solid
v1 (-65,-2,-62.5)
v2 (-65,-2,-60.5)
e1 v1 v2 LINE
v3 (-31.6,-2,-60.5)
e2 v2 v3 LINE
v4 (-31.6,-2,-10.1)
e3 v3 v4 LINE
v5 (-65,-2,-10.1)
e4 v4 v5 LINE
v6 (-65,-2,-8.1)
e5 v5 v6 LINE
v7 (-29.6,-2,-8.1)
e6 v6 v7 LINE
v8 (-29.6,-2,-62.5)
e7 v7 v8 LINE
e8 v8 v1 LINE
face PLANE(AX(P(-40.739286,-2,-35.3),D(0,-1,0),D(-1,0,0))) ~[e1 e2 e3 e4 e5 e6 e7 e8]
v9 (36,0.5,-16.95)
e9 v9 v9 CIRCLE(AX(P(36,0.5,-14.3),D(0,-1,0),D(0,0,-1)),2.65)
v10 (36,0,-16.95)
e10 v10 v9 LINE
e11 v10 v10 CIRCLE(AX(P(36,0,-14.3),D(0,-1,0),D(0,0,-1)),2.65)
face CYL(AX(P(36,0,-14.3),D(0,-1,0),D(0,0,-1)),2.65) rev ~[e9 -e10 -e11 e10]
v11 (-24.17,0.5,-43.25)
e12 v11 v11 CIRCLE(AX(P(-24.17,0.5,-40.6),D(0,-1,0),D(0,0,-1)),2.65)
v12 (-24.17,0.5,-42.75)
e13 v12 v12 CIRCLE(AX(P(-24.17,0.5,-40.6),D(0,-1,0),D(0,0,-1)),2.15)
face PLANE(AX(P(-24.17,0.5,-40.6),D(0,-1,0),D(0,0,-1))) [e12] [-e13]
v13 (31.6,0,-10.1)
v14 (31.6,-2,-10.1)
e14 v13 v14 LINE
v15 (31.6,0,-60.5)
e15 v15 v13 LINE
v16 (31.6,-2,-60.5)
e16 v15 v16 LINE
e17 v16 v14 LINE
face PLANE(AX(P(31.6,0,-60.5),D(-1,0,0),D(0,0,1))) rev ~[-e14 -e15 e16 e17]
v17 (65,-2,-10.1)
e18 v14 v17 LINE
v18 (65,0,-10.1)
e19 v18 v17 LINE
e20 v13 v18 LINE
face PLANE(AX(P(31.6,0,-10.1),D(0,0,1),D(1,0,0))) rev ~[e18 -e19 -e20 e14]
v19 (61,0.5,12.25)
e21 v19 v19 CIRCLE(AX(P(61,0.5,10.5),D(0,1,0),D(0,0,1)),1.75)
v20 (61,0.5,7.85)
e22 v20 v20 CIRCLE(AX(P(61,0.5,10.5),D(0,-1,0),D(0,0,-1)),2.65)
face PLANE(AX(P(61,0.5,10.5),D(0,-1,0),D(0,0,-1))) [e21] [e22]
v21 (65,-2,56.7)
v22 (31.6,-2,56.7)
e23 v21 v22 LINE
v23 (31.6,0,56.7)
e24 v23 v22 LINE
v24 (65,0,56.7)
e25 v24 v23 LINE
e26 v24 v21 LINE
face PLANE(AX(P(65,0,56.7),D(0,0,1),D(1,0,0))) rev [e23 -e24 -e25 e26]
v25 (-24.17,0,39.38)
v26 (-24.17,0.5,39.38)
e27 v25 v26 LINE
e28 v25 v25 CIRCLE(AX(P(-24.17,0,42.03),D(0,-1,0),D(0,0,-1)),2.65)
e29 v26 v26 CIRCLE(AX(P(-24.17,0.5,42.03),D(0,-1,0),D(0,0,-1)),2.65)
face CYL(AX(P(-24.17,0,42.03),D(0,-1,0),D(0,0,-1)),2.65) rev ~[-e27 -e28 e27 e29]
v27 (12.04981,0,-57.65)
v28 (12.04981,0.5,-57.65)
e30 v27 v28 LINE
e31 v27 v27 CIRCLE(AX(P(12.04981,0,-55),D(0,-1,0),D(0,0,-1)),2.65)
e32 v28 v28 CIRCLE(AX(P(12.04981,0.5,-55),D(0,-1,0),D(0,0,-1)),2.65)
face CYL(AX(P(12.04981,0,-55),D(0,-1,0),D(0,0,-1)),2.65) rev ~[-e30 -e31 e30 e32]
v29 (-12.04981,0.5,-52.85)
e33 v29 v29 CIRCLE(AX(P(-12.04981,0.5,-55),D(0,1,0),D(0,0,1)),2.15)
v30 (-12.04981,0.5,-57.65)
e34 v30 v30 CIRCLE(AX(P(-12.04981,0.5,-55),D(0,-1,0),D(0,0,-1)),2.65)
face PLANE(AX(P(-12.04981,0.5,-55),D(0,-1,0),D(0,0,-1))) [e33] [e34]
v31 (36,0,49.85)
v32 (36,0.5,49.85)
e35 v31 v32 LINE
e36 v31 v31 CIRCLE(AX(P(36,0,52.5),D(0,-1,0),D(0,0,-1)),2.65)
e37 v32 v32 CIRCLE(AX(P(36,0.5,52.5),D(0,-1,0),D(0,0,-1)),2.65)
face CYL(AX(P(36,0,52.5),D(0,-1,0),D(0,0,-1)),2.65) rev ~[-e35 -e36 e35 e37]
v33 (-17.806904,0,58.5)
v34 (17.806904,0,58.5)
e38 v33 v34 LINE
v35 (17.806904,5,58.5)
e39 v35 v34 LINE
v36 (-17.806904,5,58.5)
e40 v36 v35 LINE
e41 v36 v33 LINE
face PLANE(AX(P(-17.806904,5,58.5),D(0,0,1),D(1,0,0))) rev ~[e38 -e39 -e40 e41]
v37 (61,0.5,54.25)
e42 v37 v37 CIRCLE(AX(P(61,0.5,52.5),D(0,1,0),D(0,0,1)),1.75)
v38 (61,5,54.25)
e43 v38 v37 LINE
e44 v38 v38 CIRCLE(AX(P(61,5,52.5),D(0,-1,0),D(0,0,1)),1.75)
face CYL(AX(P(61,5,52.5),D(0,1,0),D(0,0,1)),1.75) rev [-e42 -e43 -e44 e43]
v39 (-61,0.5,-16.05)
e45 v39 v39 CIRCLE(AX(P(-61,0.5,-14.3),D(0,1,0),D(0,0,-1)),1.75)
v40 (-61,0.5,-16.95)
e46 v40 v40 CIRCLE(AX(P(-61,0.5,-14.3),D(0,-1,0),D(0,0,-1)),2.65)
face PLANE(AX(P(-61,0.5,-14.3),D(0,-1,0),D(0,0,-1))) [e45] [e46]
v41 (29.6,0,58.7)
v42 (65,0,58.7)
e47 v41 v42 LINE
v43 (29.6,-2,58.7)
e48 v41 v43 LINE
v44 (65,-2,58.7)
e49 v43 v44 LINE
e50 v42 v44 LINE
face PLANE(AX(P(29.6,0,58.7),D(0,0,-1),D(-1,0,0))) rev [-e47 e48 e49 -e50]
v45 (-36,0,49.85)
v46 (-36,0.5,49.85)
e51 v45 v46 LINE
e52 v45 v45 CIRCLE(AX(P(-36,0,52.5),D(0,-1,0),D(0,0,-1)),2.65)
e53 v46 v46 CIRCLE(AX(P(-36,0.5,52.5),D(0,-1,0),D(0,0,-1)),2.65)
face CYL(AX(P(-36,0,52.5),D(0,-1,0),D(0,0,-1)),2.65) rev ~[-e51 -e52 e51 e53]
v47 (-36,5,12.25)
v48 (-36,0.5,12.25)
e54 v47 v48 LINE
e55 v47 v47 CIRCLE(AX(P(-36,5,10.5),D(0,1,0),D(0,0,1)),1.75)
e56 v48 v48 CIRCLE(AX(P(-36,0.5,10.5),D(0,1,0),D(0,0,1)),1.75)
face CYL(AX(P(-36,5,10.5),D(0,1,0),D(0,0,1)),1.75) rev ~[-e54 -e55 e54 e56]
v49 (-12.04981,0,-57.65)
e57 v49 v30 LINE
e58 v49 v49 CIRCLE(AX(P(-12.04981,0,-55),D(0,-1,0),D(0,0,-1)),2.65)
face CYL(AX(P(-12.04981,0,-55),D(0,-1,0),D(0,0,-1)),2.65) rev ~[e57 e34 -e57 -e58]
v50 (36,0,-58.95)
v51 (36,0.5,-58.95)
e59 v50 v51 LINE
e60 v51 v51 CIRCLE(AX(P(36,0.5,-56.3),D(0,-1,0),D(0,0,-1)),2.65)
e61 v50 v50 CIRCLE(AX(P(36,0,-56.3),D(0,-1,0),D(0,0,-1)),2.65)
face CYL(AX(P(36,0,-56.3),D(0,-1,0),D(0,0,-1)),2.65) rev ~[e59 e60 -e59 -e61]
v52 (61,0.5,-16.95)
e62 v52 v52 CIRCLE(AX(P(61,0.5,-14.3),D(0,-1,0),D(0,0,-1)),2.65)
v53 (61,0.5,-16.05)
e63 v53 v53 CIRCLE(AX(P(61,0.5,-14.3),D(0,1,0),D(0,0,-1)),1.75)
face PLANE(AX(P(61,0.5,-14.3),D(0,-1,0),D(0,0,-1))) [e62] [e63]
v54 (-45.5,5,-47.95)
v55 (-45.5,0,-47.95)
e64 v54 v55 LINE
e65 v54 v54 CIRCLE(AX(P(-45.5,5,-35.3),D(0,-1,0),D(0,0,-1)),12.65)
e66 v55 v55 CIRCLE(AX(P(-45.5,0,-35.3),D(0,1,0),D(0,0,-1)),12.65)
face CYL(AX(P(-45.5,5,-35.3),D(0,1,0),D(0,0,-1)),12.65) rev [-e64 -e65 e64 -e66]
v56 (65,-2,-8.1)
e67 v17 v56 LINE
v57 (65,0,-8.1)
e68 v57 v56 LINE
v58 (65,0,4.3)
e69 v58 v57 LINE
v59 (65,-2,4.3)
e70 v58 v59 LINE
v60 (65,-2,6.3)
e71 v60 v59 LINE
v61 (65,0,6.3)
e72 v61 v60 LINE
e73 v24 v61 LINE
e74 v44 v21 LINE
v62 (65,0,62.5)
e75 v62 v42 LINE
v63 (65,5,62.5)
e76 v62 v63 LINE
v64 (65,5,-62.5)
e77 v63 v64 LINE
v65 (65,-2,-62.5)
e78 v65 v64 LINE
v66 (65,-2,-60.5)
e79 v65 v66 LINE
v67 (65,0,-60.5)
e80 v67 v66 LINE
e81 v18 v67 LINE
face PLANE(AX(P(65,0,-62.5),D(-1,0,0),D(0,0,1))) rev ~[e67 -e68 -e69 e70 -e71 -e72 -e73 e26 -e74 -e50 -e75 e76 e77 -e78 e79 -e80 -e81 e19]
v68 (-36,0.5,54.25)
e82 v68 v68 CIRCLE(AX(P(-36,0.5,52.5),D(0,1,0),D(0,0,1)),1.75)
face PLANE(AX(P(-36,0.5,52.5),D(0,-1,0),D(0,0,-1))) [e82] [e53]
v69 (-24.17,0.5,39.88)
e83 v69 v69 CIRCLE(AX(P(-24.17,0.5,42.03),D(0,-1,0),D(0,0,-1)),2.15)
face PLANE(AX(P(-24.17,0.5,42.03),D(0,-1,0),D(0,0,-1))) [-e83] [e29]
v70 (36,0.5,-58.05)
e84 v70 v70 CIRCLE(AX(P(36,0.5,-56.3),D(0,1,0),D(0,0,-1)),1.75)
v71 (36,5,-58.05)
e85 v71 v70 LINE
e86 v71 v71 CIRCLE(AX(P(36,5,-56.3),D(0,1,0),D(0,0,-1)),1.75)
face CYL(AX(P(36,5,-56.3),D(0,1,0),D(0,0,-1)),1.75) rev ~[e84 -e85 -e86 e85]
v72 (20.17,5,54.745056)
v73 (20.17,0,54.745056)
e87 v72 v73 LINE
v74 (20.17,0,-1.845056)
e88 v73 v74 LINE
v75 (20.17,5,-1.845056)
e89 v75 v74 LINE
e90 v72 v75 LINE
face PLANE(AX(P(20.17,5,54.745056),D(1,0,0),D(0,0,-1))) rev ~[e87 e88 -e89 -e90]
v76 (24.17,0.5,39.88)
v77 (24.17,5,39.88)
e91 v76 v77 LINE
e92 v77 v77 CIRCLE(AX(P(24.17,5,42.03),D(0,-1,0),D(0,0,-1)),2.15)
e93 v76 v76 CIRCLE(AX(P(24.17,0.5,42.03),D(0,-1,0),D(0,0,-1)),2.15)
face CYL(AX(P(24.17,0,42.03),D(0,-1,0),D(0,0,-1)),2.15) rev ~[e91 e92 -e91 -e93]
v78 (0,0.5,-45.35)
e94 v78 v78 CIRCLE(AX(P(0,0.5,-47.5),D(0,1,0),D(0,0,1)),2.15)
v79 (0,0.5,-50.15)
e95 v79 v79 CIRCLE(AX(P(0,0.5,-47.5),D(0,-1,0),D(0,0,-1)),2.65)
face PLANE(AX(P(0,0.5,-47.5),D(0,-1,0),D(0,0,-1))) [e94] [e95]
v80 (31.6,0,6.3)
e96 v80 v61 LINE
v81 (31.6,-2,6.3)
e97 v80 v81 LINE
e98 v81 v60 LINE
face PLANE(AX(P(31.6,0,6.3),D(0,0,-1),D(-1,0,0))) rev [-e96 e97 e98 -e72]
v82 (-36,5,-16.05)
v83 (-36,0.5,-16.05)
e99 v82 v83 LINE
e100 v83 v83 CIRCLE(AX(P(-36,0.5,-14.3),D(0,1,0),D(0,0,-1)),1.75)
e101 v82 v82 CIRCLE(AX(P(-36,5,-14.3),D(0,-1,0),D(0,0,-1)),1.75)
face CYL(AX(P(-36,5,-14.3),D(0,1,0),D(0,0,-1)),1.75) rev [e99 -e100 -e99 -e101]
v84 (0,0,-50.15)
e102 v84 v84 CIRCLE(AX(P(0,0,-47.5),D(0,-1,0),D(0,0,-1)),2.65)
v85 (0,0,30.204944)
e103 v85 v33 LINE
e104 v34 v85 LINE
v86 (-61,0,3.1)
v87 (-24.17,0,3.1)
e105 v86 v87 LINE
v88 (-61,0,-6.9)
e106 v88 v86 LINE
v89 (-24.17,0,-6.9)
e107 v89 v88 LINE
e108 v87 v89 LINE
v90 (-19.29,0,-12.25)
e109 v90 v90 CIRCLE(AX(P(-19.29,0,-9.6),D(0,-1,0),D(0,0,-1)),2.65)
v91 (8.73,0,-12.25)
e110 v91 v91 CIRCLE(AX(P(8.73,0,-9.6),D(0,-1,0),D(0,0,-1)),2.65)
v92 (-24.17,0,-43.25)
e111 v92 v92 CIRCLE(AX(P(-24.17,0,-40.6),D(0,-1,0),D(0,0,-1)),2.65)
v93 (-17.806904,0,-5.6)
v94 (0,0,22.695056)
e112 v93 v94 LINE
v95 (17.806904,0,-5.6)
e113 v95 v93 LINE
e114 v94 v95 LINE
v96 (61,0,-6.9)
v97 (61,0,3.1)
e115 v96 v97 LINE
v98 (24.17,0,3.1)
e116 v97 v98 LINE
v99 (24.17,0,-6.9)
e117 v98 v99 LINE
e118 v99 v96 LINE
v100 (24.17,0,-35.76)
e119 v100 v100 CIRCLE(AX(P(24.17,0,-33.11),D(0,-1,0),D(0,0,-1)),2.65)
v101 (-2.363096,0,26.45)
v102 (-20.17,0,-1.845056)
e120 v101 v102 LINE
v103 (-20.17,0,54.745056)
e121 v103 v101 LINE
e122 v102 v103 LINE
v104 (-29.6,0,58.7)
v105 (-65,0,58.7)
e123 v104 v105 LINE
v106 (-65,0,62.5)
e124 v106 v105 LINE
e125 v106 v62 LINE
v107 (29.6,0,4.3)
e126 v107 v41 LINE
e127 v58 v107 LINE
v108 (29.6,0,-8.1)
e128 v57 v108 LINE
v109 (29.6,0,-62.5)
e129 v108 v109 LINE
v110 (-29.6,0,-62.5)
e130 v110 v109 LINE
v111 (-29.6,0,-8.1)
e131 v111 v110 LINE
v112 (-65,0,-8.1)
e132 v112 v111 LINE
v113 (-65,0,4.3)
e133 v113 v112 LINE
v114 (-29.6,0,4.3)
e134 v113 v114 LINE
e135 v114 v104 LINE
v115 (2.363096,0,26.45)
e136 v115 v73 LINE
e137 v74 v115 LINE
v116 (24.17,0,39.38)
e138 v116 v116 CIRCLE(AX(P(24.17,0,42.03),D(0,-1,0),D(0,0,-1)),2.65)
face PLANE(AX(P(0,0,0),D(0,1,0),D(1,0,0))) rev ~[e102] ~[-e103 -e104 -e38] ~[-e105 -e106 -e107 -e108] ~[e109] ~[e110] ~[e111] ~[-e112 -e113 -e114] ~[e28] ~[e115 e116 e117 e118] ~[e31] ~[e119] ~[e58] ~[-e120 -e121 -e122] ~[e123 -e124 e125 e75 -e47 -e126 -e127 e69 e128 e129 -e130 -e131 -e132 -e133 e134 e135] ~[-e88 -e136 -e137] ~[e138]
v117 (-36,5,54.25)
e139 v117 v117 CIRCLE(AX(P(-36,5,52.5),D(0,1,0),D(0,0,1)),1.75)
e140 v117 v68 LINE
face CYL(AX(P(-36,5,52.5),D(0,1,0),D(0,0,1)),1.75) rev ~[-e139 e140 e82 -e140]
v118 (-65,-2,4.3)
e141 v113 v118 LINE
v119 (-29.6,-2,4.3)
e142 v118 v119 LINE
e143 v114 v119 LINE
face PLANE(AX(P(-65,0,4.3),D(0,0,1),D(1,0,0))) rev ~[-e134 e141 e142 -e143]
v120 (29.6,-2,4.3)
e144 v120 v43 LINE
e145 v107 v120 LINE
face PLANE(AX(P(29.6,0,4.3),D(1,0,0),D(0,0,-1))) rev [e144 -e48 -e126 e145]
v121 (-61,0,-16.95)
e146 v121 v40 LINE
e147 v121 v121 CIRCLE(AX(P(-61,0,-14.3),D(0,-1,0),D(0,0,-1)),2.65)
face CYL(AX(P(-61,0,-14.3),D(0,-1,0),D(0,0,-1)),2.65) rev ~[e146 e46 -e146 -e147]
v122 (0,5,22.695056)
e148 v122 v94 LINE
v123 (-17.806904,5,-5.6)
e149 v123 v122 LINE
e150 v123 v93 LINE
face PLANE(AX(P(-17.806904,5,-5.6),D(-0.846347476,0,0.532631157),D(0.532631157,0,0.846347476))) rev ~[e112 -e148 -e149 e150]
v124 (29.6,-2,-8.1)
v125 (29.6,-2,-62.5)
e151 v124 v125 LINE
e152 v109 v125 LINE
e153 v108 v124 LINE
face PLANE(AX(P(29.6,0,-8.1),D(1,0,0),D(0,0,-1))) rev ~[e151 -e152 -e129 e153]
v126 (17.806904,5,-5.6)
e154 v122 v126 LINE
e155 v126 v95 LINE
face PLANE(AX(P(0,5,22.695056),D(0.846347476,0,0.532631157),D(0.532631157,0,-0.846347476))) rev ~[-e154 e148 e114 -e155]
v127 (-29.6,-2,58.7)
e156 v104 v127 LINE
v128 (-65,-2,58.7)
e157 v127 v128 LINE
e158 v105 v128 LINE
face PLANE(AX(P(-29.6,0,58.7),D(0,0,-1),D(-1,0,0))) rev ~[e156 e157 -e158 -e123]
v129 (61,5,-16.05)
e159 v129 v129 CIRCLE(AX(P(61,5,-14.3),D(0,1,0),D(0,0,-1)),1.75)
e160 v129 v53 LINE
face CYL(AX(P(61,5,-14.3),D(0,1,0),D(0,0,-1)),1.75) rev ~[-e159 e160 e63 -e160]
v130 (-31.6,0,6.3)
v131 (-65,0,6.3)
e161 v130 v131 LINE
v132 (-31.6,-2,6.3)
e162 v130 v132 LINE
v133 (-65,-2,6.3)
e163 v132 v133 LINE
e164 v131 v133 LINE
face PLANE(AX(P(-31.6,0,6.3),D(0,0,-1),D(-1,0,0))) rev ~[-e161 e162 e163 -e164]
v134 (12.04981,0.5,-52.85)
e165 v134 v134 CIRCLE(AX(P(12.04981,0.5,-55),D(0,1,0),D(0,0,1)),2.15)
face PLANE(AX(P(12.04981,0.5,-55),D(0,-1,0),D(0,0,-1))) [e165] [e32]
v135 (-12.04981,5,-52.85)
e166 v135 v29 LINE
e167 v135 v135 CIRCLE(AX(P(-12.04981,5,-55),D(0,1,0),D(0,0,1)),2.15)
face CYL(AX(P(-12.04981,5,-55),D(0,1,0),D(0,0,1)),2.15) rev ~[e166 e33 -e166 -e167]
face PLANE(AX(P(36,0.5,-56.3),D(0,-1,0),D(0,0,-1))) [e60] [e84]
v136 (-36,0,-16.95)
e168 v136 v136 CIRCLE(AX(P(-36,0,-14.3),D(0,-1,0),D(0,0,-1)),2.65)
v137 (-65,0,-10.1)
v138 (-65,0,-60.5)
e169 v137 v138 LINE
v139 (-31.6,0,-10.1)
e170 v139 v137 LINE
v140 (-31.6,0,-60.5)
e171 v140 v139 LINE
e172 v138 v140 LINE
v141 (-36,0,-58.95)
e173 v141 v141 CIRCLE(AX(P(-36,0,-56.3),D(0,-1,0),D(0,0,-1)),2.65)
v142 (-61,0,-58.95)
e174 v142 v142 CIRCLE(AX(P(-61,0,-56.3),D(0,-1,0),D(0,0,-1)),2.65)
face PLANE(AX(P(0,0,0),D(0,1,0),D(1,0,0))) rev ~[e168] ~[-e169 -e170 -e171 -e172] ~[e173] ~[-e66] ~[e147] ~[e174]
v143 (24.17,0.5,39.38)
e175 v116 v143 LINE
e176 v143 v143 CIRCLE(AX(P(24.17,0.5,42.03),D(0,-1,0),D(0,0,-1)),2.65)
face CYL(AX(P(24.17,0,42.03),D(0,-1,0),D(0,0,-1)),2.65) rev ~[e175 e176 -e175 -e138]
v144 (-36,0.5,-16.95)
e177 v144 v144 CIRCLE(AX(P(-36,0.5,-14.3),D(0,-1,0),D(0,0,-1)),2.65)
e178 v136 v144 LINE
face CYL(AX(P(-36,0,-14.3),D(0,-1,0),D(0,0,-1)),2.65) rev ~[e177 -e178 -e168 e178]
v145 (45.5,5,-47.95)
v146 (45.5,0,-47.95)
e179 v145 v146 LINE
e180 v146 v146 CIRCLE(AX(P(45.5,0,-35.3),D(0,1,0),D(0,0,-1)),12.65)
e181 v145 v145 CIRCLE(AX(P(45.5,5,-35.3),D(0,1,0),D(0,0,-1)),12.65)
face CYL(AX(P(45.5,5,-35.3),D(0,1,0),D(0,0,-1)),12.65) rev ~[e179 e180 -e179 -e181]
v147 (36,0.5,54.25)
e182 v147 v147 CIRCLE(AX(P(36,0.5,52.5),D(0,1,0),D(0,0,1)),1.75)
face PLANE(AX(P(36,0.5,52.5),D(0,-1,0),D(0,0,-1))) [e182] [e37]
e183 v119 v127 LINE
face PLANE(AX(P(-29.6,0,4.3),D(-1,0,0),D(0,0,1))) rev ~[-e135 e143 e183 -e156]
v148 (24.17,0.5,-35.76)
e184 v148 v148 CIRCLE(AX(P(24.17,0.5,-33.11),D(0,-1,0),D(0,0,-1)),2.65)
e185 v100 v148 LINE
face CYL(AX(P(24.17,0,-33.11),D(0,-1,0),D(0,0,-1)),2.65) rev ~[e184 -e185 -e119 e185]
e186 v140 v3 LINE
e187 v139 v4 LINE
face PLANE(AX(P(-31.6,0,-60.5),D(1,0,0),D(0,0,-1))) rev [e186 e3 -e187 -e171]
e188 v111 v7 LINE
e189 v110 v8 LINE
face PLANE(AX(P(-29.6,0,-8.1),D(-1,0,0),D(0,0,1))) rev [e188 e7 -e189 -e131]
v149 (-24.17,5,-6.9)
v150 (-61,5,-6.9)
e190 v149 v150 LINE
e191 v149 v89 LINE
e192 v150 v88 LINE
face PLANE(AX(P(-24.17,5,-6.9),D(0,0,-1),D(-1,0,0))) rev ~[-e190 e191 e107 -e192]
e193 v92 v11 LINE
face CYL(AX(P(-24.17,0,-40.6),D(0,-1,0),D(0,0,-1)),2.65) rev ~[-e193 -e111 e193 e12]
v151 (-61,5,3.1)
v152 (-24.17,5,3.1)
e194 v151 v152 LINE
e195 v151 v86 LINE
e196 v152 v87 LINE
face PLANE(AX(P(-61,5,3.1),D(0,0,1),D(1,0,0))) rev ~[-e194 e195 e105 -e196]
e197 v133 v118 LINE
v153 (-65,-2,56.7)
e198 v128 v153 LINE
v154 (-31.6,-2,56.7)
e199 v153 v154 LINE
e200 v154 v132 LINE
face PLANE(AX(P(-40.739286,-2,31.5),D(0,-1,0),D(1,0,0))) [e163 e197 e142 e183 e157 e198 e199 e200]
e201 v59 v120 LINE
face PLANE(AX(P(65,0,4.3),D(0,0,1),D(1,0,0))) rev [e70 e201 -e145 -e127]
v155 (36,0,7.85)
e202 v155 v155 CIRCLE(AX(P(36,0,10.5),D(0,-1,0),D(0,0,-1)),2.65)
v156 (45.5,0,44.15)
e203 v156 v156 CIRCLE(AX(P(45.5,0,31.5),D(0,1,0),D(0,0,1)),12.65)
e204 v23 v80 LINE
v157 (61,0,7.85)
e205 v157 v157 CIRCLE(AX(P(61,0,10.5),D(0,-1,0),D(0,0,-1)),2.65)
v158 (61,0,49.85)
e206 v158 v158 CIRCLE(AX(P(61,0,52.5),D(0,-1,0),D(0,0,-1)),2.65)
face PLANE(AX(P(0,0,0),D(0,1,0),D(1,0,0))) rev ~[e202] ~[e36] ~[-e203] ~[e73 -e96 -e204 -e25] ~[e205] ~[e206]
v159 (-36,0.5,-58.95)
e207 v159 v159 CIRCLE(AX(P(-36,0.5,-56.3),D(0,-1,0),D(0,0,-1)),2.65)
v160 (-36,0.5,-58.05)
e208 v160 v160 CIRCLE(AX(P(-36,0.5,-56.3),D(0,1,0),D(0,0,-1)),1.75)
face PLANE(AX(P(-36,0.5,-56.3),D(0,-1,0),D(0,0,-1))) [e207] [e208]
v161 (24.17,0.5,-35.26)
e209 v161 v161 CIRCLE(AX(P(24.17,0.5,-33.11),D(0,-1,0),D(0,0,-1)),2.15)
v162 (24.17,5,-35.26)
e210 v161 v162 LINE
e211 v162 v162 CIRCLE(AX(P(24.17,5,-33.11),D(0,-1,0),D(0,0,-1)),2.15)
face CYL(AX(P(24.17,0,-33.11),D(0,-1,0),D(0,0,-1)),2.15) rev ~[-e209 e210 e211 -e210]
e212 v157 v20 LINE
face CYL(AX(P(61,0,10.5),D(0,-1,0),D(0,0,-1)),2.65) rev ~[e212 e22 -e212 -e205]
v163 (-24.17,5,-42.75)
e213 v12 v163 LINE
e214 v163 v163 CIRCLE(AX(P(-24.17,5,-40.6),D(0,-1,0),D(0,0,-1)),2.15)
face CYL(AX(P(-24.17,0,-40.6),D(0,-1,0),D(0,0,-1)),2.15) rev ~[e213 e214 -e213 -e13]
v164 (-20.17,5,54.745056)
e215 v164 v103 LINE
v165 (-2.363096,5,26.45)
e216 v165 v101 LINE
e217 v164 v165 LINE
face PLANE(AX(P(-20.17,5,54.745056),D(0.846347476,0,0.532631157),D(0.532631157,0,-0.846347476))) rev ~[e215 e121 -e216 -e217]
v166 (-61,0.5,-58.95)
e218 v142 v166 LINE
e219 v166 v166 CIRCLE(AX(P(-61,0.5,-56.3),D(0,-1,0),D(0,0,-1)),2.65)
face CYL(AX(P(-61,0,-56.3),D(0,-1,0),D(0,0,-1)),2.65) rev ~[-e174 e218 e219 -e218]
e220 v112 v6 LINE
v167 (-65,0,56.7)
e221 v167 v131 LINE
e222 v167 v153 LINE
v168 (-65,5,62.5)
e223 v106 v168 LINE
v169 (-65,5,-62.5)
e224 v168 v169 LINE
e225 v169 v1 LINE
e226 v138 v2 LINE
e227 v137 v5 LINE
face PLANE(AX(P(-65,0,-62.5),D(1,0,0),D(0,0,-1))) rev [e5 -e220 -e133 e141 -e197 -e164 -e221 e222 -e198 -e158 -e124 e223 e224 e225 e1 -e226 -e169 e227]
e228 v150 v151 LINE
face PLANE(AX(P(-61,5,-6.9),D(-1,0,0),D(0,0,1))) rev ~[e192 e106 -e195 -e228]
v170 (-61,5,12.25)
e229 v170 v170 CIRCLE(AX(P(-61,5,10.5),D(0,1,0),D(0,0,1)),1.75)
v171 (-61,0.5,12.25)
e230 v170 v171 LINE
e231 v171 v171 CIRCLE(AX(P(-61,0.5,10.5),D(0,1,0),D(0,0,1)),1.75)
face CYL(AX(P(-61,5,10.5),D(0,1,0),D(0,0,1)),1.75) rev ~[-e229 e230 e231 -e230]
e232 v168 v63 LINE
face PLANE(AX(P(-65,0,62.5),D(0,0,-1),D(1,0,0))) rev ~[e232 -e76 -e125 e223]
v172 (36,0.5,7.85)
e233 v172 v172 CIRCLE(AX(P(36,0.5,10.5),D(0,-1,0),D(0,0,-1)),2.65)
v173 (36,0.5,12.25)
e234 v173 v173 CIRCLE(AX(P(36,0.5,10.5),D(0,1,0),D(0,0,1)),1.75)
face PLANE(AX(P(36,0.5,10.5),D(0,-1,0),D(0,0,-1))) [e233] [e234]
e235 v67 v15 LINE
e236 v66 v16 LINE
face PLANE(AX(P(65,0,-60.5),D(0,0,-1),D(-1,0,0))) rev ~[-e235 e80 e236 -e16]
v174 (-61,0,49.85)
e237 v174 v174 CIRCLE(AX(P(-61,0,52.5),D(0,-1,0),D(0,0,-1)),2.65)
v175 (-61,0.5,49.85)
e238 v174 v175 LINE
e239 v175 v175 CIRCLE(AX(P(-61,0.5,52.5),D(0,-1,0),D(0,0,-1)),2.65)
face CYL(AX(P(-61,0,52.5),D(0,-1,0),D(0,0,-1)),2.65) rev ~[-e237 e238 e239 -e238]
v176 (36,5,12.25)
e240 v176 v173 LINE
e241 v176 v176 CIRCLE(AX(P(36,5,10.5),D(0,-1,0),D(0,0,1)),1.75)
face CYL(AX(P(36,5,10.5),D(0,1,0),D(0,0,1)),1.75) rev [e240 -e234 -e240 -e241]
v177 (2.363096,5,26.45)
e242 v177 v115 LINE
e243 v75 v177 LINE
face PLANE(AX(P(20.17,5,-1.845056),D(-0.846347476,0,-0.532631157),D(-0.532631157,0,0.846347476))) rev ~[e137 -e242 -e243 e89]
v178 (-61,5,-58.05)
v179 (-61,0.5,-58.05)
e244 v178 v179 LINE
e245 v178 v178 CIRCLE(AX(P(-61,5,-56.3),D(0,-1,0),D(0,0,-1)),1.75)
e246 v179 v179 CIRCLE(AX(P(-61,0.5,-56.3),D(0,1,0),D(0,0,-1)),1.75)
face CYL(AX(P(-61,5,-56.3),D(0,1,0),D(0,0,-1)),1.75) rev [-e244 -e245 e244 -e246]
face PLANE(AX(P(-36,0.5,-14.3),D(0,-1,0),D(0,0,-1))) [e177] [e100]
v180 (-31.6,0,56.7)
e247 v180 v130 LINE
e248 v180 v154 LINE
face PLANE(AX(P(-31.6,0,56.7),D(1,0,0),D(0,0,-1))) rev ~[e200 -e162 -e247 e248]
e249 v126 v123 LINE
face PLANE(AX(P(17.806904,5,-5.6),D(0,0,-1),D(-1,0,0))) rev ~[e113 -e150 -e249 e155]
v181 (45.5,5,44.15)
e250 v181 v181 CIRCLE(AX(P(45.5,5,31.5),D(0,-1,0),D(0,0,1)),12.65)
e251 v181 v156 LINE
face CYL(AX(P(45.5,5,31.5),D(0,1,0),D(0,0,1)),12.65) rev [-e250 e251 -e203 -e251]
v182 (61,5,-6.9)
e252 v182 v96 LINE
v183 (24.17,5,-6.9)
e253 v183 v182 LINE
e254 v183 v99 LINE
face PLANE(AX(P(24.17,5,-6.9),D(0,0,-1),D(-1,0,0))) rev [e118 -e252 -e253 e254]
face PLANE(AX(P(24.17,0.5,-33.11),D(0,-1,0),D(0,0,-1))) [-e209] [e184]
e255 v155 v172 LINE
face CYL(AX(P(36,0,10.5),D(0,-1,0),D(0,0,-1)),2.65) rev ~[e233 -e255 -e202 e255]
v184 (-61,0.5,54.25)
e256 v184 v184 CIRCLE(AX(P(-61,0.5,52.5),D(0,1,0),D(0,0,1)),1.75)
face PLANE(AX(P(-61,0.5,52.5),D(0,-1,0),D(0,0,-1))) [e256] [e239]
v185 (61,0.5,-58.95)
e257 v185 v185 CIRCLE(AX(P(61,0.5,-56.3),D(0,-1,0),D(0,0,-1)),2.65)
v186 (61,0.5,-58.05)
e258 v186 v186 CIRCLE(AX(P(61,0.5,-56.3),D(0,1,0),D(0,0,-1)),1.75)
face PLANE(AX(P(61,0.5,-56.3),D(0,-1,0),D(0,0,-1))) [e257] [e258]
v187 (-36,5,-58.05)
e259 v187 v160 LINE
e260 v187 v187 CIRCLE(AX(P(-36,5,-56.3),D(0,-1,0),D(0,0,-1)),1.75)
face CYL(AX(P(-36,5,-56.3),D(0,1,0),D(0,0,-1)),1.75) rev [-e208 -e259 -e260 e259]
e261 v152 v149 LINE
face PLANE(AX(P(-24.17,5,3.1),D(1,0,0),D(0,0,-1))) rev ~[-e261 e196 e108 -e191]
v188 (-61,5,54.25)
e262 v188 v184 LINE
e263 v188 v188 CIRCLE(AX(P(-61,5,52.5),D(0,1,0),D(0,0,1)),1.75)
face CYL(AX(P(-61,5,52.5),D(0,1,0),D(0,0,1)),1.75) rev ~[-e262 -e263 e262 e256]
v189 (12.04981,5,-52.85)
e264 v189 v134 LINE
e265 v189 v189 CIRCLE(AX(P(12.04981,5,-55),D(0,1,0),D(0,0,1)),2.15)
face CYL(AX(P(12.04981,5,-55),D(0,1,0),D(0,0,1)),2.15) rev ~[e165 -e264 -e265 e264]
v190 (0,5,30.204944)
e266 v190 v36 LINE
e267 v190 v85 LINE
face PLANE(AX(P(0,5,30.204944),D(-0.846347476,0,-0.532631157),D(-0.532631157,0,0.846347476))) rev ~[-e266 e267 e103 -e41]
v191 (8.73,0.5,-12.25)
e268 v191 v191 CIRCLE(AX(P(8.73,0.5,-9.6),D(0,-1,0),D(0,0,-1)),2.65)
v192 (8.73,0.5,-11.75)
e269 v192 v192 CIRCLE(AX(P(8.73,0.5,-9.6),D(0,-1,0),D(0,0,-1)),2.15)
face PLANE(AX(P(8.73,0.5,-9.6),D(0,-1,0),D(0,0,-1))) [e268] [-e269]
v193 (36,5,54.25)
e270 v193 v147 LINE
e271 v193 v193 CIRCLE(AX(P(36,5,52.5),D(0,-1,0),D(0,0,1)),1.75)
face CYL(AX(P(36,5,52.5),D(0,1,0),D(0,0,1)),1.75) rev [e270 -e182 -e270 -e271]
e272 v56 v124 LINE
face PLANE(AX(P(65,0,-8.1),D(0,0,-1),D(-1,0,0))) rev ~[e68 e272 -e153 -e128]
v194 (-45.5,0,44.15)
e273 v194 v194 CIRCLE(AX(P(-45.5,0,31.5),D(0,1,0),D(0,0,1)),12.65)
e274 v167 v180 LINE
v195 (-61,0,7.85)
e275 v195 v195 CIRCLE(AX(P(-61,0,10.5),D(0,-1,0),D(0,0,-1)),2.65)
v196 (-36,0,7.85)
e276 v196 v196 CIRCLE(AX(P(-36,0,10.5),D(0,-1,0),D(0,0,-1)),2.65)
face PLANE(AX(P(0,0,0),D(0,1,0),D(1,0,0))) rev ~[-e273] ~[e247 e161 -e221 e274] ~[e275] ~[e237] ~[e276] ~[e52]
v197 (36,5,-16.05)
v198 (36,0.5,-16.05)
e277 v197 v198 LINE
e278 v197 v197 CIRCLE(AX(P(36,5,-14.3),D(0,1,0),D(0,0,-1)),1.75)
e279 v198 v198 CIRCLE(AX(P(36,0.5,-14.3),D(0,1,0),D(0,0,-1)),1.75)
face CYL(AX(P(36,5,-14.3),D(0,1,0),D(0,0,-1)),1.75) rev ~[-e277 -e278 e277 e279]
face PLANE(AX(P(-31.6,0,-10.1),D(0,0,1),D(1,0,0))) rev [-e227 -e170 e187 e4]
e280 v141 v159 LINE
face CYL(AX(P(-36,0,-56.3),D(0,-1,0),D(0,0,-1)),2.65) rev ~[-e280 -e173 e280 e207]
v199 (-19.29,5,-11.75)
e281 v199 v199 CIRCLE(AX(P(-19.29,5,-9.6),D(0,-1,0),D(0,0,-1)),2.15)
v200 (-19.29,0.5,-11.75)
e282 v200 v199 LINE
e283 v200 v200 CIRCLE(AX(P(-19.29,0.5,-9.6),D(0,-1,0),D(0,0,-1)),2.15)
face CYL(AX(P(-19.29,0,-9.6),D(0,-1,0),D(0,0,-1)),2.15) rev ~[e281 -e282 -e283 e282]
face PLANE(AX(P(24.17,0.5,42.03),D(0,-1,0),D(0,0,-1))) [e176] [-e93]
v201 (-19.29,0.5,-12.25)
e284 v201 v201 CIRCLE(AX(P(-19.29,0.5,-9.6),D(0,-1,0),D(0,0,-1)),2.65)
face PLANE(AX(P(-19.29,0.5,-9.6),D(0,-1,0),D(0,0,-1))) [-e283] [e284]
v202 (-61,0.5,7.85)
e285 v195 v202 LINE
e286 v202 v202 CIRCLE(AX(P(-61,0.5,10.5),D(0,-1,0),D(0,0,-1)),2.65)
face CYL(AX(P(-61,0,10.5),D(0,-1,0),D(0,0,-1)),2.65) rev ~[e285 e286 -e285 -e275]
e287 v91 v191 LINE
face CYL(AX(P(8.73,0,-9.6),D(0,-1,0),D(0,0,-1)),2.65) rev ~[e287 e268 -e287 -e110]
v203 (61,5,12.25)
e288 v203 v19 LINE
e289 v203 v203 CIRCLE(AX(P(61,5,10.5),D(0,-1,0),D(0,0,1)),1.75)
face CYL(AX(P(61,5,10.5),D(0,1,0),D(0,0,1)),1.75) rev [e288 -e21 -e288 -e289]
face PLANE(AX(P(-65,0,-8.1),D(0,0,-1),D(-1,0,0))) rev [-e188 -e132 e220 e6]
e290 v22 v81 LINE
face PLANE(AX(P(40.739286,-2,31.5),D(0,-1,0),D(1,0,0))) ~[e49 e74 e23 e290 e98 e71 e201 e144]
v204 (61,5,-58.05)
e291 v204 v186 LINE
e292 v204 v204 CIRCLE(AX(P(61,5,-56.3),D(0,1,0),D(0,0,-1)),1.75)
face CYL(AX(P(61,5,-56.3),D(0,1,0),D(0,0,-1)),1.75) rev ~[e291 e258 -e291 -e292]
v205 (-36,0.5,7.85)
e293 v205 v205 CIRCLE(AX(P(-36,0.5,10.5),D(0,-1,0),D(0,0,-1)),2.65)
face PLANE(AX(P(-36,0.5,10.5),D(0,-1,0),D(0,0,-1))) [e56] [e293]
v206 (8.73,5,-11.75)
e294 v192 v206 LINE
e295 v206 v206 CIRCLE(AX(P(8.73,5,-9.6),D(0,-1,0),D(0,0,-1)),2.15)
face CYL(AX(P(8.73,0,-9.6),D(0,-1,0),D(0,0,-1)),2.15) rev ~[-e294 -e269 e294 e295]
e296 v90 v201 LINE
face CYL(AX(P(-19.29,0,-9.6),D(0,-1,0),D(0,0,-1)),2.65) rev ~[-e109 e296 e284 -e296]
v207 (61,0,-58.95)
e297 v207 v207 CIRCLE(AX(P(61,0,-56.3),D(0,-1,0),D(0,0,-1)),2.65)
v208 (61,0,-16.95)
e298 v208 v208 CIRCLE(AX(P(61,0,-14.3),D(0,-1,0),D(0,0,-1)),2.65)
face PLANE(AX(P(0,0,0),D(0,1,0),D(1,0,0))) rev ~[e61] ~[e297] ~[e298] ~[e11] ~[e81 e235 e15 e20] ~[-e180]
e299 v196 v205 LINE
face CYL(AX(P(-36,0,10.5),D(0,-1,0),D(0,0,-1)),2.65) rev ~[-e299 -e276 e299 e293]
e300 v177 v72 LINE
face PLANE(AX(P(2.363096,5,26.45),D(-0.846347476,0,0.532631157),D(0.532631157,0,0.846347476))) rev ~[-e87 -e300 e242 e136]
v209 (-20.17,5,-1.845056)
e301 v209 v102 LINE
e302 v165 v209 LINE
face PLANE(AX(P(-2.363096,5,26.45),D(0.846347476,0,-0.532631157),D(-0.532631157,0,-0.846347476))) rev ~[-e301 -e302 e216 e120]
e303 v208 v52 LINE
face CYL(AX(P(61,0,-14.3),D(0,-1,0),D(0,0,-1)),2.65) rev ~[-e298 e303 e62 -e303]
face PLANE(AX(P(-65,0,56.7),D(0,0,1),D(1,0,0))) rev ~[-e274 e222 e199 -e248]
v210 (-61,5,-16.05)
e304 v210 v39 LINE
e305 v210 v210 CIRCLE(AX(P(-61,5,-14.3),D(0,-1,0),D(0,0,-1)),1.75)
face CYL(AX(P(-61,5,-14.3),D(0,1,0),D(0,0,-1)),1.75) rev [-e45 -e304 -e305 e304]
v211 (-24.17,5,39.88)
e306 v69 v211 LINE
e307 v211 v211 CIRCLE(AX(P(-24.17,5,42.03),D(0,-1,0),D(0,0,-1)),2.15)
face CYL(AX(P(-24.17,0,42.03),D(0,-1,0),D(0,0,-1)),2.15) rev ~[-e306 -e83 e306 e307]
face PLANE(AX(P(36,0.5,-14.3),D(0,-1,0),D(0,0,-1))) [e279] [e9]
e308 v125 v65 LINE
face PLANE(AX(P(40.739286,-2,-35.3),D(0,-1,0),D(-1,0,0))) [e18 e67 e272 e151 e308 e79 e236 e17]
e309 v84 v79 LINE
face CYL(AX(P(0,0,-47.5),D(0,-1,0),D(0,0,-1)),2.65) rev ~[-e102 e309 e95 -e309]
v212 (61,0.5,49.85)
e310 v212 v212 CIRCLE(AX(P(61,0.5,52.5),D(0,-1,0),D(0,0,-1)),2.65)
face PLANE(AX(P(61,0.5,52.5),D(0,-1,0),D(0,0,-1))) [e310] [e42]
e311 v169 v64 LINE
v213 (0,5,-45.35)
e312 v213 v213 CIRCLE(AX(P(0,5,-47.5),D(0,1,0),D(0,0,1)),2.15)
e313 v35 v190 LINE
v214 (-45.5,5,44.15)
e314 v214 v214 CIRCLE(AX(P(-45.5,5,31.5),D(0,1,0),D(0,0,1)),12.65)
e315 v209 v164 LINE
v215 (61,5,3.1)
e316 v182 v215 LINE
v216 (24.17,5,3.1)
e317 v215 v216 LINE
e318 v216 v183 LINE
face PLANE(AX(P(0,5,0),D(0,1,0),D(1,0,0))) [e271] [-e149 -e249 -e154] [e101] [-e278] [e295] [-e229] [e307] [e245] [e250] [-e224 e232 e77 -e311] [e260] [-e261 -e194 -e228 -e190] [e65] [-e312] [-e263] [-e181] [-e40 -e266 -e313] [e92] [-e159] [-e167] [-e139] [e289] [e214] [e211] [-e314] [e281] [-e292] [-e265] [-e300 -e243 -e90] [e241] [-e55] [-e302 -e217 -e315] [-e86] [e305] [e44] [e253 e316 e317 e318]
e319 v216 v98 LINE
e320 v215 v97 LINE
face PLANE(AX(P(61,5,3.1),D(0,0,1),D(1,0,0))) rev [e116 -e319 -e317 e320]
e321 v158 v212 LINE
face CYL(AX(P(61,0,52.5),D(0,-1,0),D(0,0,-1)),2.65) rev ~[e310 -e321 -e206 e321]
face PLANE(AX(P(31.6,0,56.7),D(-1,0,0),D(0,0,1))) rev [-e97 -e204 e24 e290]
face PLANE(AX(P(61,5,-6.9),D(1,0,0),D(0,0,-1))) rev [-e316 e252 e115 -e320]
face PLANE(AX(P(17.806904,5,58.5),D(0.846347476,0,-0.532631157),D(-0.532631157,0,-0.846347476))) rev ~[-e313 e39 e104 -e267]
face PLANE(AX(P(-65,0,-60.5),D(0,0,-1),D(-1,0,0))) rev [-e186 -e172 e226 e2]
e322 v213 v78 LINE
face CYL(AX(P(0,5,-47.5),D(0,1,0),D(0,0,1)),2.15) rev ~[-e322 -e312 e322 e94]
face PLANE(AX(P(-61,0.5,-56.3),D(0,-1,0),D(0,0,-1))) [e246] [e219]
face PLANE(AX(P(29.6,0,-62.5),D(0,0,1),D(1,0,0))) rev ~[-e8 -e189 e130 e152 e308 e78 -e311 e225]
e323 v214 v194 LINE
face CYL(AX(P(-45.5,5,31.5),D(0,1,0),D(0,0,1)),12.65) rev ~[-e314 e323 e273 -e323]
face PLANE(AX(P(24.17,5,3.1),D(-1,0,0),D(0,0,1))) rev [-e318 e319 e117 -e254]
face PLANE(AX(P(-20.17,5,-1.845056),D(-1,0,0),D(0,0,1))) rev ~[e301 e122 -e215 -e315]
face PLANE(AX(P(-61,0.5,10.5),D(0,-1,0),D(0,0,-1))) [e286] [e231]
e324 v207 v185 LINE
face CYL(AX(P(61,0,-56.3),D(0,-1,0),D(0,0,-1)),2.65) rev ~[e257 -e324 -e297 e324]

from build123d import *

# Parameters (mm, degrees)
SKETCH1_W                 = 130
SKETCH1_H                 = 125
BOSS_EXTRUDE1_DEPTH       = 5
SKETCH2_R                 = 1.75
SKETCH2_R_2               = 12.65
CUT_EXTRUDE1_DEPTH        = 10
SKETCH4_R                 = 2.15
CUT_EXTRUDE3_DEPTH        = 10
BOSS_EXTRUDE2_DEPTH       = 2
MIRROR7_COPY_1_SKETCH_R   = 1.75
MIRROR7_COPY_1_SKETCH_R_2 = 12.65
MIRROR7_COPY_1_DEPTH      = 10
MIRROR7_COPY_2_DEPTH      = 2
SKETCH10_R                = 2.15
CUT_EXTRUDE8_DEPTH        = 91.311959341
SKETCH11_R                = 2.65
CUT_EXTRUDE9_DEPTH        = 0.5
CUT_EXTRUDE10_DEPTH       = 91.444734507
CUT_EXTRUDE11_DEPTH       = 91.444734507


with BuildPart() as part:
    # Sketch1 → Boss-Extrude1 (new body)
    with BuildSketch(Plane(origin=(0, 0, 0), x_dir=(1, 0, 0), z_dir=(0, 1, 0))):
        Rectangle(SKETCH1_W, SKETCH1_H)
    extrude(amount=BOSS_EXTRUDE1_DEPTH)

    # Sketch2 → Cut-Extrude1 (cut)
    with BuildSketch(Plane(origin=(0, 5, 0), x_dir=(1, 0, 0), z_dir=(0, 1, 0))):
        with Locations(Location((-61, -52.5, 0), (0, 0, 270))):
            Circle(SKETCH2_R)
        with Locations(Location((-36, -52.5, 0), (0, 0, 270))):
            Circle(SKETCH2_R)
        with Locations(Location((-36, -10.5, 0), (0, 0, 270))):
            Circle(SKETCH2_R)
        with Locations(Location((-61, -10.5, 0), (0, 0, 270))):
            Circle(SKETCH2_R)
        with Locations(Location((-45.5, -31.5, 0), (0, 0, 270))):
            Circle(SKETCH2_R_2)
    cut_extrude1 = extrude(amount=-CUT_EXTRUDE1_DEPTH, mode=Mode.SUBTRACT)

    # Mirror3: Cut-Extrude1 across plane
    add(cut_extrude1.mirror(Plane.ZY), mode=Mode.SUBTRACT)

    # Sketch4 → Cut-Extrude3 (cut)
    with BuildSketch(Plane(origin=(0, 5, 0), x_dir=(1, 0, 0), z_dir=(0, 1, 0))):
        with Locations(Location((0, 47.5, 0), (0, 0, 270))):
            Circle(SKETCH4_R)
        with Locations(Location((12.049810205, 55, 0), (0, 0, 270))):
            Circle(SKETCH4_R)
        with Locations(Location((-12.049810205, 55, 0), (0, 0, 270))):
            Circle(SKETCH4_R)
    extrude(amount=-CUT_EXTRUDE3_DEPTH, mode=Mode.SUBTRACT)

    # Sketch5 → Boss-Extrude2 (add)
    with BuildSketch(Plane.XZ):
        Polygon((-65, 58.7), (-65, 56.7), (-31.6, 56.7), (-31.6, 6.3), (-65, 6.3), (-65, 4.3), (-29.6, 4.3), (-29.6, 58.7), align=None)
    boss_extrude2 = extrude(amount=BOSS_EXTRUDE2_DEPTH)

    # Mirror5: Boss-Extrude2 across plane
    add(boss_extrude2.mirror(Plane.ZY))

    # Mirror7: Cut-Extrude1, Boss-Extrude2 across plane
    add(cut_extrude1.mirror(Plane.XY.offset(-1.9)), mode=Mode.SUBTRACT)
    add(boss_extrude2.mirror(Plane.XY.offset(-1.9)))

    # Mirror7 copy 1 sketch → Mirror7 copy 1 (cut)
    with BuildSketch(Plane(origin=(0, 5, -3.8), x_dir=(-1, 0, 0), z_dir=(0, 1, 0))):
        with Locations(Location((-61, -52.5, 0), (0, 0, 270))):
            Circle(MIRROR7_COPY_1_SKETCH_R)
        with Locations(Location((-36, -52.5, 0), (0, 0, 270))):
            Circle(MIRROR7_COPY_1_SKETCH_R)
        with Locations(Location((-36, -10.5, 0), (0, 0, 270))):
            Circle(MIRROR7_COPY_1_SKETCH_R)
        with Locations(Location((-61, -10.5, 0), (0, 0, 270))):
            Circle(MIRROR7_COPY_1_SKETCH_R)
        with Locations(Location((-45.5, -31.5, 0), (0, 0, 270))):
            Circle(MIRROR7_COPY_1_SKETCH_R_2)
    extrude(amount=-MIRROR7_COPY_1_DEPTH, mode=Mode.SUBTRACT)

    # Mirror7 copy 2 sketch → Mirror7 copy 2 (add)
    with BuildSketch(Plane(origin=(0, 0, -3.8), x_dir=(-1, 0, 0), z_dir=(0, -1, 0))):
        Polygon((-65, 58.7), (-65, 56.7), (-31.6, 56.7), (-31.6, 6.3), (-65, 6.3), (-65, 4.3), (-29.6, 4.3), (-29.6, 58.7), align=None)
    extrude(amount=MIRROR7_COPY_2_DEPTH)

    # Sketch10 → Cut-Extrude8 (cut, through all)
    with BuildSketch(Plane(origin=(0, 0, 0), x_dir=(-1, 0, 0), z_dir=(0, -1, 0))):
        with Locations(Location((-24.17, -42.03, 0), (0, 0, 90))):
            Circle(SKETCH10_R)
        with Locations(Location((24.17, -42.03, 0), (0, 0, 90))):
            Circle(SKETCH10_R)
        with Locations(Location((-8.73, 9.6, 0), (0, 0, 90))):
            Circle(SKETCH10_R)
        with Locations(Location((19.29, 9.6, 0), (0, 0, 90))):
            Circle(SKETCH10_R)
        with Locations(Location((-24.17, 33.11, 0), (0, 0, 90))):
            Circle(SKETCH10_R)
        with Locations(Location((24.17, 40.6, 0), (0, 0, 90))):
            Circle(SKETCH10_R)
    extrude(amount=-CUT_EXTRUDE8_DEPTH, mode=Mode.SUBTRACT)

    # Sketch11 → Cut-Extrude9 (cut)
    with BuildSketch(Plane.XZ):
        with Locations(Location((-12.049810205, -55, 0), (0, 0, 270))):
            Circle(SKETCH11_R)
        with Locations(Location((0, -47.5, 0), (0, 0, 270))):
            Circle(SKETCH11_R)
        with Locations(Location((12.049810205, -55, 0), (0, 0, 270))):
            Circle(SKETCH11_R)
        with Locations(Location((-24.17, -40.6, 0), (0, 0, 270))):
            Circle(SKETCH11_R)
        with Locations(Location((24.17, -33.11, 0), (0, 0, 270))):
            Circle(SKETCH11_R)
        with Locations(Location((8.73, -9.6, 0), (0, 0, 270))):
            Circle(SKETCH11_R)
        with Locations(Location((-19.29, -9.6, 0), (0, 0, 270))):
            Circle(SKETCH11_R)
        with Locations(Location((-24.17, 42.03, 0), (0, 0, 270))):
            Circle(SKETCH11_R)
        with Locations(Location((24.17, 42.03, 0), (0, 0, 270))):
            Circle(SKETCH11_R)
        with Locations(Location((-61, -14.3, 0), (0, 0, 270))):
            Circle(SKETCH11_R)
        with Locations(Location((-36, -14.3, 0), (0, 0, 270))):
            Circle(SKETCH11_R)
        with Locations(Location((-61, -56.3, 0), (0, 0, 270))):
            Circle(SKETCH11_R)
        with Locations(Location((-36, -56.3, 0), (0, 0, 270))):
            Circle(SKETCH11_R)
        with Locations(Location((36, -56.3, 0), (0, 0, 270))):
            Circle(SKETCH11_R)
        with Locations(Location((61, -56.3, 0), (0, 0, 270))):
            Circle(SKETCH11_R)
        with Locations(Location((36, -14.3, 0), (0, 0, 270))):
            Circle(SKETCH11_R)
        with Locations(Location((61, -14.3, 0), (0, 0, 270))):
            Circle(SKETCH11_R)
        with Locations(Location((36, 10.5, 0), (0, 0, 270))):
            Circle(SKETCH11_R)
        with Locations(Location((61, 10.5, 0), (0, 0, 270))):
            Circle(SKETCH11_R)
        with Locations(Location((61, 52.5, 0), (0, 0, 270))):
            Circle(SKETCH11_R)
        with Locations(Location((36, 52.5, 0), (0, 0, 270))):
            Circle(SKETCH11_R)
        with Locations(Location((-36, 52.5, 0), (0, 0, 270))):
            Circle(SKETCH11_R)
        with Locations(Location((-36, 10.5, 0), (0, 0, 270))):
            Circle(SKETCH11_R)
        with Locations(Location((-61, 10.5, 0), (0, 0, 270))):
            Circle(SKETCH11_R)
        with Locations(Location((-61, 52.5, 0), (0, 0, 270))):
            Circle(SKETCH11_R)
    extrude(amount=-CUT_EXTRUDE9_DEPTH, mode=Mode.SUBTRACT)

    # Sketch12 → Cut-Extrude10 (cut, through all)
    with BuildSketch(Plane(origin=(0, 5, 0), x_dir=(1, 0, 0), z_dir=(0, 1, 0))):
        Polygon((-2.363095604, -26.45), (-20.17, 1.845056316), (-20.17, -54.745056316), align=None)
        Polygon((17.806904396, 5.6), (-17.806904396, 5.6), (0, -22.695056316), align=None)
        Polygon((20.17, -54.745056316), (20.17, 1.845056316), (2.363095604, -26.45), align=None)
        Polygon((0, -30.204943684), (-17.806904396, -58.5), (17.806904396, -58.5), align=None)
    extrude(amount=-CUT_EXTRUDE10_DEPTH, mode=Mode.SUBTRACT)

    # Sketch13 → Cut-Extrude11 (cut, through all)
    with BuildSketch(Plane(origin=(0, 5, 0), x_dir=(1, 0, 0), z_dir=(0, 1, 0))):
        Polygon((-61, 1.9), (-61, -3.1), (-24.17, -3.1), (-24.17, 6.9), (-61, 6.9), align=None)
    cut_extrude11 = extrude(amount=-CUT_EXTRUDE11_DEPTH, mode=Mode.SUBTRACT)

    # Mirror9: Cut-Extrude11 across plane
    add(cut_extrude11.mirror(Plane.ZY), mode=Mode.SUBTRACT)


solid = part.part
